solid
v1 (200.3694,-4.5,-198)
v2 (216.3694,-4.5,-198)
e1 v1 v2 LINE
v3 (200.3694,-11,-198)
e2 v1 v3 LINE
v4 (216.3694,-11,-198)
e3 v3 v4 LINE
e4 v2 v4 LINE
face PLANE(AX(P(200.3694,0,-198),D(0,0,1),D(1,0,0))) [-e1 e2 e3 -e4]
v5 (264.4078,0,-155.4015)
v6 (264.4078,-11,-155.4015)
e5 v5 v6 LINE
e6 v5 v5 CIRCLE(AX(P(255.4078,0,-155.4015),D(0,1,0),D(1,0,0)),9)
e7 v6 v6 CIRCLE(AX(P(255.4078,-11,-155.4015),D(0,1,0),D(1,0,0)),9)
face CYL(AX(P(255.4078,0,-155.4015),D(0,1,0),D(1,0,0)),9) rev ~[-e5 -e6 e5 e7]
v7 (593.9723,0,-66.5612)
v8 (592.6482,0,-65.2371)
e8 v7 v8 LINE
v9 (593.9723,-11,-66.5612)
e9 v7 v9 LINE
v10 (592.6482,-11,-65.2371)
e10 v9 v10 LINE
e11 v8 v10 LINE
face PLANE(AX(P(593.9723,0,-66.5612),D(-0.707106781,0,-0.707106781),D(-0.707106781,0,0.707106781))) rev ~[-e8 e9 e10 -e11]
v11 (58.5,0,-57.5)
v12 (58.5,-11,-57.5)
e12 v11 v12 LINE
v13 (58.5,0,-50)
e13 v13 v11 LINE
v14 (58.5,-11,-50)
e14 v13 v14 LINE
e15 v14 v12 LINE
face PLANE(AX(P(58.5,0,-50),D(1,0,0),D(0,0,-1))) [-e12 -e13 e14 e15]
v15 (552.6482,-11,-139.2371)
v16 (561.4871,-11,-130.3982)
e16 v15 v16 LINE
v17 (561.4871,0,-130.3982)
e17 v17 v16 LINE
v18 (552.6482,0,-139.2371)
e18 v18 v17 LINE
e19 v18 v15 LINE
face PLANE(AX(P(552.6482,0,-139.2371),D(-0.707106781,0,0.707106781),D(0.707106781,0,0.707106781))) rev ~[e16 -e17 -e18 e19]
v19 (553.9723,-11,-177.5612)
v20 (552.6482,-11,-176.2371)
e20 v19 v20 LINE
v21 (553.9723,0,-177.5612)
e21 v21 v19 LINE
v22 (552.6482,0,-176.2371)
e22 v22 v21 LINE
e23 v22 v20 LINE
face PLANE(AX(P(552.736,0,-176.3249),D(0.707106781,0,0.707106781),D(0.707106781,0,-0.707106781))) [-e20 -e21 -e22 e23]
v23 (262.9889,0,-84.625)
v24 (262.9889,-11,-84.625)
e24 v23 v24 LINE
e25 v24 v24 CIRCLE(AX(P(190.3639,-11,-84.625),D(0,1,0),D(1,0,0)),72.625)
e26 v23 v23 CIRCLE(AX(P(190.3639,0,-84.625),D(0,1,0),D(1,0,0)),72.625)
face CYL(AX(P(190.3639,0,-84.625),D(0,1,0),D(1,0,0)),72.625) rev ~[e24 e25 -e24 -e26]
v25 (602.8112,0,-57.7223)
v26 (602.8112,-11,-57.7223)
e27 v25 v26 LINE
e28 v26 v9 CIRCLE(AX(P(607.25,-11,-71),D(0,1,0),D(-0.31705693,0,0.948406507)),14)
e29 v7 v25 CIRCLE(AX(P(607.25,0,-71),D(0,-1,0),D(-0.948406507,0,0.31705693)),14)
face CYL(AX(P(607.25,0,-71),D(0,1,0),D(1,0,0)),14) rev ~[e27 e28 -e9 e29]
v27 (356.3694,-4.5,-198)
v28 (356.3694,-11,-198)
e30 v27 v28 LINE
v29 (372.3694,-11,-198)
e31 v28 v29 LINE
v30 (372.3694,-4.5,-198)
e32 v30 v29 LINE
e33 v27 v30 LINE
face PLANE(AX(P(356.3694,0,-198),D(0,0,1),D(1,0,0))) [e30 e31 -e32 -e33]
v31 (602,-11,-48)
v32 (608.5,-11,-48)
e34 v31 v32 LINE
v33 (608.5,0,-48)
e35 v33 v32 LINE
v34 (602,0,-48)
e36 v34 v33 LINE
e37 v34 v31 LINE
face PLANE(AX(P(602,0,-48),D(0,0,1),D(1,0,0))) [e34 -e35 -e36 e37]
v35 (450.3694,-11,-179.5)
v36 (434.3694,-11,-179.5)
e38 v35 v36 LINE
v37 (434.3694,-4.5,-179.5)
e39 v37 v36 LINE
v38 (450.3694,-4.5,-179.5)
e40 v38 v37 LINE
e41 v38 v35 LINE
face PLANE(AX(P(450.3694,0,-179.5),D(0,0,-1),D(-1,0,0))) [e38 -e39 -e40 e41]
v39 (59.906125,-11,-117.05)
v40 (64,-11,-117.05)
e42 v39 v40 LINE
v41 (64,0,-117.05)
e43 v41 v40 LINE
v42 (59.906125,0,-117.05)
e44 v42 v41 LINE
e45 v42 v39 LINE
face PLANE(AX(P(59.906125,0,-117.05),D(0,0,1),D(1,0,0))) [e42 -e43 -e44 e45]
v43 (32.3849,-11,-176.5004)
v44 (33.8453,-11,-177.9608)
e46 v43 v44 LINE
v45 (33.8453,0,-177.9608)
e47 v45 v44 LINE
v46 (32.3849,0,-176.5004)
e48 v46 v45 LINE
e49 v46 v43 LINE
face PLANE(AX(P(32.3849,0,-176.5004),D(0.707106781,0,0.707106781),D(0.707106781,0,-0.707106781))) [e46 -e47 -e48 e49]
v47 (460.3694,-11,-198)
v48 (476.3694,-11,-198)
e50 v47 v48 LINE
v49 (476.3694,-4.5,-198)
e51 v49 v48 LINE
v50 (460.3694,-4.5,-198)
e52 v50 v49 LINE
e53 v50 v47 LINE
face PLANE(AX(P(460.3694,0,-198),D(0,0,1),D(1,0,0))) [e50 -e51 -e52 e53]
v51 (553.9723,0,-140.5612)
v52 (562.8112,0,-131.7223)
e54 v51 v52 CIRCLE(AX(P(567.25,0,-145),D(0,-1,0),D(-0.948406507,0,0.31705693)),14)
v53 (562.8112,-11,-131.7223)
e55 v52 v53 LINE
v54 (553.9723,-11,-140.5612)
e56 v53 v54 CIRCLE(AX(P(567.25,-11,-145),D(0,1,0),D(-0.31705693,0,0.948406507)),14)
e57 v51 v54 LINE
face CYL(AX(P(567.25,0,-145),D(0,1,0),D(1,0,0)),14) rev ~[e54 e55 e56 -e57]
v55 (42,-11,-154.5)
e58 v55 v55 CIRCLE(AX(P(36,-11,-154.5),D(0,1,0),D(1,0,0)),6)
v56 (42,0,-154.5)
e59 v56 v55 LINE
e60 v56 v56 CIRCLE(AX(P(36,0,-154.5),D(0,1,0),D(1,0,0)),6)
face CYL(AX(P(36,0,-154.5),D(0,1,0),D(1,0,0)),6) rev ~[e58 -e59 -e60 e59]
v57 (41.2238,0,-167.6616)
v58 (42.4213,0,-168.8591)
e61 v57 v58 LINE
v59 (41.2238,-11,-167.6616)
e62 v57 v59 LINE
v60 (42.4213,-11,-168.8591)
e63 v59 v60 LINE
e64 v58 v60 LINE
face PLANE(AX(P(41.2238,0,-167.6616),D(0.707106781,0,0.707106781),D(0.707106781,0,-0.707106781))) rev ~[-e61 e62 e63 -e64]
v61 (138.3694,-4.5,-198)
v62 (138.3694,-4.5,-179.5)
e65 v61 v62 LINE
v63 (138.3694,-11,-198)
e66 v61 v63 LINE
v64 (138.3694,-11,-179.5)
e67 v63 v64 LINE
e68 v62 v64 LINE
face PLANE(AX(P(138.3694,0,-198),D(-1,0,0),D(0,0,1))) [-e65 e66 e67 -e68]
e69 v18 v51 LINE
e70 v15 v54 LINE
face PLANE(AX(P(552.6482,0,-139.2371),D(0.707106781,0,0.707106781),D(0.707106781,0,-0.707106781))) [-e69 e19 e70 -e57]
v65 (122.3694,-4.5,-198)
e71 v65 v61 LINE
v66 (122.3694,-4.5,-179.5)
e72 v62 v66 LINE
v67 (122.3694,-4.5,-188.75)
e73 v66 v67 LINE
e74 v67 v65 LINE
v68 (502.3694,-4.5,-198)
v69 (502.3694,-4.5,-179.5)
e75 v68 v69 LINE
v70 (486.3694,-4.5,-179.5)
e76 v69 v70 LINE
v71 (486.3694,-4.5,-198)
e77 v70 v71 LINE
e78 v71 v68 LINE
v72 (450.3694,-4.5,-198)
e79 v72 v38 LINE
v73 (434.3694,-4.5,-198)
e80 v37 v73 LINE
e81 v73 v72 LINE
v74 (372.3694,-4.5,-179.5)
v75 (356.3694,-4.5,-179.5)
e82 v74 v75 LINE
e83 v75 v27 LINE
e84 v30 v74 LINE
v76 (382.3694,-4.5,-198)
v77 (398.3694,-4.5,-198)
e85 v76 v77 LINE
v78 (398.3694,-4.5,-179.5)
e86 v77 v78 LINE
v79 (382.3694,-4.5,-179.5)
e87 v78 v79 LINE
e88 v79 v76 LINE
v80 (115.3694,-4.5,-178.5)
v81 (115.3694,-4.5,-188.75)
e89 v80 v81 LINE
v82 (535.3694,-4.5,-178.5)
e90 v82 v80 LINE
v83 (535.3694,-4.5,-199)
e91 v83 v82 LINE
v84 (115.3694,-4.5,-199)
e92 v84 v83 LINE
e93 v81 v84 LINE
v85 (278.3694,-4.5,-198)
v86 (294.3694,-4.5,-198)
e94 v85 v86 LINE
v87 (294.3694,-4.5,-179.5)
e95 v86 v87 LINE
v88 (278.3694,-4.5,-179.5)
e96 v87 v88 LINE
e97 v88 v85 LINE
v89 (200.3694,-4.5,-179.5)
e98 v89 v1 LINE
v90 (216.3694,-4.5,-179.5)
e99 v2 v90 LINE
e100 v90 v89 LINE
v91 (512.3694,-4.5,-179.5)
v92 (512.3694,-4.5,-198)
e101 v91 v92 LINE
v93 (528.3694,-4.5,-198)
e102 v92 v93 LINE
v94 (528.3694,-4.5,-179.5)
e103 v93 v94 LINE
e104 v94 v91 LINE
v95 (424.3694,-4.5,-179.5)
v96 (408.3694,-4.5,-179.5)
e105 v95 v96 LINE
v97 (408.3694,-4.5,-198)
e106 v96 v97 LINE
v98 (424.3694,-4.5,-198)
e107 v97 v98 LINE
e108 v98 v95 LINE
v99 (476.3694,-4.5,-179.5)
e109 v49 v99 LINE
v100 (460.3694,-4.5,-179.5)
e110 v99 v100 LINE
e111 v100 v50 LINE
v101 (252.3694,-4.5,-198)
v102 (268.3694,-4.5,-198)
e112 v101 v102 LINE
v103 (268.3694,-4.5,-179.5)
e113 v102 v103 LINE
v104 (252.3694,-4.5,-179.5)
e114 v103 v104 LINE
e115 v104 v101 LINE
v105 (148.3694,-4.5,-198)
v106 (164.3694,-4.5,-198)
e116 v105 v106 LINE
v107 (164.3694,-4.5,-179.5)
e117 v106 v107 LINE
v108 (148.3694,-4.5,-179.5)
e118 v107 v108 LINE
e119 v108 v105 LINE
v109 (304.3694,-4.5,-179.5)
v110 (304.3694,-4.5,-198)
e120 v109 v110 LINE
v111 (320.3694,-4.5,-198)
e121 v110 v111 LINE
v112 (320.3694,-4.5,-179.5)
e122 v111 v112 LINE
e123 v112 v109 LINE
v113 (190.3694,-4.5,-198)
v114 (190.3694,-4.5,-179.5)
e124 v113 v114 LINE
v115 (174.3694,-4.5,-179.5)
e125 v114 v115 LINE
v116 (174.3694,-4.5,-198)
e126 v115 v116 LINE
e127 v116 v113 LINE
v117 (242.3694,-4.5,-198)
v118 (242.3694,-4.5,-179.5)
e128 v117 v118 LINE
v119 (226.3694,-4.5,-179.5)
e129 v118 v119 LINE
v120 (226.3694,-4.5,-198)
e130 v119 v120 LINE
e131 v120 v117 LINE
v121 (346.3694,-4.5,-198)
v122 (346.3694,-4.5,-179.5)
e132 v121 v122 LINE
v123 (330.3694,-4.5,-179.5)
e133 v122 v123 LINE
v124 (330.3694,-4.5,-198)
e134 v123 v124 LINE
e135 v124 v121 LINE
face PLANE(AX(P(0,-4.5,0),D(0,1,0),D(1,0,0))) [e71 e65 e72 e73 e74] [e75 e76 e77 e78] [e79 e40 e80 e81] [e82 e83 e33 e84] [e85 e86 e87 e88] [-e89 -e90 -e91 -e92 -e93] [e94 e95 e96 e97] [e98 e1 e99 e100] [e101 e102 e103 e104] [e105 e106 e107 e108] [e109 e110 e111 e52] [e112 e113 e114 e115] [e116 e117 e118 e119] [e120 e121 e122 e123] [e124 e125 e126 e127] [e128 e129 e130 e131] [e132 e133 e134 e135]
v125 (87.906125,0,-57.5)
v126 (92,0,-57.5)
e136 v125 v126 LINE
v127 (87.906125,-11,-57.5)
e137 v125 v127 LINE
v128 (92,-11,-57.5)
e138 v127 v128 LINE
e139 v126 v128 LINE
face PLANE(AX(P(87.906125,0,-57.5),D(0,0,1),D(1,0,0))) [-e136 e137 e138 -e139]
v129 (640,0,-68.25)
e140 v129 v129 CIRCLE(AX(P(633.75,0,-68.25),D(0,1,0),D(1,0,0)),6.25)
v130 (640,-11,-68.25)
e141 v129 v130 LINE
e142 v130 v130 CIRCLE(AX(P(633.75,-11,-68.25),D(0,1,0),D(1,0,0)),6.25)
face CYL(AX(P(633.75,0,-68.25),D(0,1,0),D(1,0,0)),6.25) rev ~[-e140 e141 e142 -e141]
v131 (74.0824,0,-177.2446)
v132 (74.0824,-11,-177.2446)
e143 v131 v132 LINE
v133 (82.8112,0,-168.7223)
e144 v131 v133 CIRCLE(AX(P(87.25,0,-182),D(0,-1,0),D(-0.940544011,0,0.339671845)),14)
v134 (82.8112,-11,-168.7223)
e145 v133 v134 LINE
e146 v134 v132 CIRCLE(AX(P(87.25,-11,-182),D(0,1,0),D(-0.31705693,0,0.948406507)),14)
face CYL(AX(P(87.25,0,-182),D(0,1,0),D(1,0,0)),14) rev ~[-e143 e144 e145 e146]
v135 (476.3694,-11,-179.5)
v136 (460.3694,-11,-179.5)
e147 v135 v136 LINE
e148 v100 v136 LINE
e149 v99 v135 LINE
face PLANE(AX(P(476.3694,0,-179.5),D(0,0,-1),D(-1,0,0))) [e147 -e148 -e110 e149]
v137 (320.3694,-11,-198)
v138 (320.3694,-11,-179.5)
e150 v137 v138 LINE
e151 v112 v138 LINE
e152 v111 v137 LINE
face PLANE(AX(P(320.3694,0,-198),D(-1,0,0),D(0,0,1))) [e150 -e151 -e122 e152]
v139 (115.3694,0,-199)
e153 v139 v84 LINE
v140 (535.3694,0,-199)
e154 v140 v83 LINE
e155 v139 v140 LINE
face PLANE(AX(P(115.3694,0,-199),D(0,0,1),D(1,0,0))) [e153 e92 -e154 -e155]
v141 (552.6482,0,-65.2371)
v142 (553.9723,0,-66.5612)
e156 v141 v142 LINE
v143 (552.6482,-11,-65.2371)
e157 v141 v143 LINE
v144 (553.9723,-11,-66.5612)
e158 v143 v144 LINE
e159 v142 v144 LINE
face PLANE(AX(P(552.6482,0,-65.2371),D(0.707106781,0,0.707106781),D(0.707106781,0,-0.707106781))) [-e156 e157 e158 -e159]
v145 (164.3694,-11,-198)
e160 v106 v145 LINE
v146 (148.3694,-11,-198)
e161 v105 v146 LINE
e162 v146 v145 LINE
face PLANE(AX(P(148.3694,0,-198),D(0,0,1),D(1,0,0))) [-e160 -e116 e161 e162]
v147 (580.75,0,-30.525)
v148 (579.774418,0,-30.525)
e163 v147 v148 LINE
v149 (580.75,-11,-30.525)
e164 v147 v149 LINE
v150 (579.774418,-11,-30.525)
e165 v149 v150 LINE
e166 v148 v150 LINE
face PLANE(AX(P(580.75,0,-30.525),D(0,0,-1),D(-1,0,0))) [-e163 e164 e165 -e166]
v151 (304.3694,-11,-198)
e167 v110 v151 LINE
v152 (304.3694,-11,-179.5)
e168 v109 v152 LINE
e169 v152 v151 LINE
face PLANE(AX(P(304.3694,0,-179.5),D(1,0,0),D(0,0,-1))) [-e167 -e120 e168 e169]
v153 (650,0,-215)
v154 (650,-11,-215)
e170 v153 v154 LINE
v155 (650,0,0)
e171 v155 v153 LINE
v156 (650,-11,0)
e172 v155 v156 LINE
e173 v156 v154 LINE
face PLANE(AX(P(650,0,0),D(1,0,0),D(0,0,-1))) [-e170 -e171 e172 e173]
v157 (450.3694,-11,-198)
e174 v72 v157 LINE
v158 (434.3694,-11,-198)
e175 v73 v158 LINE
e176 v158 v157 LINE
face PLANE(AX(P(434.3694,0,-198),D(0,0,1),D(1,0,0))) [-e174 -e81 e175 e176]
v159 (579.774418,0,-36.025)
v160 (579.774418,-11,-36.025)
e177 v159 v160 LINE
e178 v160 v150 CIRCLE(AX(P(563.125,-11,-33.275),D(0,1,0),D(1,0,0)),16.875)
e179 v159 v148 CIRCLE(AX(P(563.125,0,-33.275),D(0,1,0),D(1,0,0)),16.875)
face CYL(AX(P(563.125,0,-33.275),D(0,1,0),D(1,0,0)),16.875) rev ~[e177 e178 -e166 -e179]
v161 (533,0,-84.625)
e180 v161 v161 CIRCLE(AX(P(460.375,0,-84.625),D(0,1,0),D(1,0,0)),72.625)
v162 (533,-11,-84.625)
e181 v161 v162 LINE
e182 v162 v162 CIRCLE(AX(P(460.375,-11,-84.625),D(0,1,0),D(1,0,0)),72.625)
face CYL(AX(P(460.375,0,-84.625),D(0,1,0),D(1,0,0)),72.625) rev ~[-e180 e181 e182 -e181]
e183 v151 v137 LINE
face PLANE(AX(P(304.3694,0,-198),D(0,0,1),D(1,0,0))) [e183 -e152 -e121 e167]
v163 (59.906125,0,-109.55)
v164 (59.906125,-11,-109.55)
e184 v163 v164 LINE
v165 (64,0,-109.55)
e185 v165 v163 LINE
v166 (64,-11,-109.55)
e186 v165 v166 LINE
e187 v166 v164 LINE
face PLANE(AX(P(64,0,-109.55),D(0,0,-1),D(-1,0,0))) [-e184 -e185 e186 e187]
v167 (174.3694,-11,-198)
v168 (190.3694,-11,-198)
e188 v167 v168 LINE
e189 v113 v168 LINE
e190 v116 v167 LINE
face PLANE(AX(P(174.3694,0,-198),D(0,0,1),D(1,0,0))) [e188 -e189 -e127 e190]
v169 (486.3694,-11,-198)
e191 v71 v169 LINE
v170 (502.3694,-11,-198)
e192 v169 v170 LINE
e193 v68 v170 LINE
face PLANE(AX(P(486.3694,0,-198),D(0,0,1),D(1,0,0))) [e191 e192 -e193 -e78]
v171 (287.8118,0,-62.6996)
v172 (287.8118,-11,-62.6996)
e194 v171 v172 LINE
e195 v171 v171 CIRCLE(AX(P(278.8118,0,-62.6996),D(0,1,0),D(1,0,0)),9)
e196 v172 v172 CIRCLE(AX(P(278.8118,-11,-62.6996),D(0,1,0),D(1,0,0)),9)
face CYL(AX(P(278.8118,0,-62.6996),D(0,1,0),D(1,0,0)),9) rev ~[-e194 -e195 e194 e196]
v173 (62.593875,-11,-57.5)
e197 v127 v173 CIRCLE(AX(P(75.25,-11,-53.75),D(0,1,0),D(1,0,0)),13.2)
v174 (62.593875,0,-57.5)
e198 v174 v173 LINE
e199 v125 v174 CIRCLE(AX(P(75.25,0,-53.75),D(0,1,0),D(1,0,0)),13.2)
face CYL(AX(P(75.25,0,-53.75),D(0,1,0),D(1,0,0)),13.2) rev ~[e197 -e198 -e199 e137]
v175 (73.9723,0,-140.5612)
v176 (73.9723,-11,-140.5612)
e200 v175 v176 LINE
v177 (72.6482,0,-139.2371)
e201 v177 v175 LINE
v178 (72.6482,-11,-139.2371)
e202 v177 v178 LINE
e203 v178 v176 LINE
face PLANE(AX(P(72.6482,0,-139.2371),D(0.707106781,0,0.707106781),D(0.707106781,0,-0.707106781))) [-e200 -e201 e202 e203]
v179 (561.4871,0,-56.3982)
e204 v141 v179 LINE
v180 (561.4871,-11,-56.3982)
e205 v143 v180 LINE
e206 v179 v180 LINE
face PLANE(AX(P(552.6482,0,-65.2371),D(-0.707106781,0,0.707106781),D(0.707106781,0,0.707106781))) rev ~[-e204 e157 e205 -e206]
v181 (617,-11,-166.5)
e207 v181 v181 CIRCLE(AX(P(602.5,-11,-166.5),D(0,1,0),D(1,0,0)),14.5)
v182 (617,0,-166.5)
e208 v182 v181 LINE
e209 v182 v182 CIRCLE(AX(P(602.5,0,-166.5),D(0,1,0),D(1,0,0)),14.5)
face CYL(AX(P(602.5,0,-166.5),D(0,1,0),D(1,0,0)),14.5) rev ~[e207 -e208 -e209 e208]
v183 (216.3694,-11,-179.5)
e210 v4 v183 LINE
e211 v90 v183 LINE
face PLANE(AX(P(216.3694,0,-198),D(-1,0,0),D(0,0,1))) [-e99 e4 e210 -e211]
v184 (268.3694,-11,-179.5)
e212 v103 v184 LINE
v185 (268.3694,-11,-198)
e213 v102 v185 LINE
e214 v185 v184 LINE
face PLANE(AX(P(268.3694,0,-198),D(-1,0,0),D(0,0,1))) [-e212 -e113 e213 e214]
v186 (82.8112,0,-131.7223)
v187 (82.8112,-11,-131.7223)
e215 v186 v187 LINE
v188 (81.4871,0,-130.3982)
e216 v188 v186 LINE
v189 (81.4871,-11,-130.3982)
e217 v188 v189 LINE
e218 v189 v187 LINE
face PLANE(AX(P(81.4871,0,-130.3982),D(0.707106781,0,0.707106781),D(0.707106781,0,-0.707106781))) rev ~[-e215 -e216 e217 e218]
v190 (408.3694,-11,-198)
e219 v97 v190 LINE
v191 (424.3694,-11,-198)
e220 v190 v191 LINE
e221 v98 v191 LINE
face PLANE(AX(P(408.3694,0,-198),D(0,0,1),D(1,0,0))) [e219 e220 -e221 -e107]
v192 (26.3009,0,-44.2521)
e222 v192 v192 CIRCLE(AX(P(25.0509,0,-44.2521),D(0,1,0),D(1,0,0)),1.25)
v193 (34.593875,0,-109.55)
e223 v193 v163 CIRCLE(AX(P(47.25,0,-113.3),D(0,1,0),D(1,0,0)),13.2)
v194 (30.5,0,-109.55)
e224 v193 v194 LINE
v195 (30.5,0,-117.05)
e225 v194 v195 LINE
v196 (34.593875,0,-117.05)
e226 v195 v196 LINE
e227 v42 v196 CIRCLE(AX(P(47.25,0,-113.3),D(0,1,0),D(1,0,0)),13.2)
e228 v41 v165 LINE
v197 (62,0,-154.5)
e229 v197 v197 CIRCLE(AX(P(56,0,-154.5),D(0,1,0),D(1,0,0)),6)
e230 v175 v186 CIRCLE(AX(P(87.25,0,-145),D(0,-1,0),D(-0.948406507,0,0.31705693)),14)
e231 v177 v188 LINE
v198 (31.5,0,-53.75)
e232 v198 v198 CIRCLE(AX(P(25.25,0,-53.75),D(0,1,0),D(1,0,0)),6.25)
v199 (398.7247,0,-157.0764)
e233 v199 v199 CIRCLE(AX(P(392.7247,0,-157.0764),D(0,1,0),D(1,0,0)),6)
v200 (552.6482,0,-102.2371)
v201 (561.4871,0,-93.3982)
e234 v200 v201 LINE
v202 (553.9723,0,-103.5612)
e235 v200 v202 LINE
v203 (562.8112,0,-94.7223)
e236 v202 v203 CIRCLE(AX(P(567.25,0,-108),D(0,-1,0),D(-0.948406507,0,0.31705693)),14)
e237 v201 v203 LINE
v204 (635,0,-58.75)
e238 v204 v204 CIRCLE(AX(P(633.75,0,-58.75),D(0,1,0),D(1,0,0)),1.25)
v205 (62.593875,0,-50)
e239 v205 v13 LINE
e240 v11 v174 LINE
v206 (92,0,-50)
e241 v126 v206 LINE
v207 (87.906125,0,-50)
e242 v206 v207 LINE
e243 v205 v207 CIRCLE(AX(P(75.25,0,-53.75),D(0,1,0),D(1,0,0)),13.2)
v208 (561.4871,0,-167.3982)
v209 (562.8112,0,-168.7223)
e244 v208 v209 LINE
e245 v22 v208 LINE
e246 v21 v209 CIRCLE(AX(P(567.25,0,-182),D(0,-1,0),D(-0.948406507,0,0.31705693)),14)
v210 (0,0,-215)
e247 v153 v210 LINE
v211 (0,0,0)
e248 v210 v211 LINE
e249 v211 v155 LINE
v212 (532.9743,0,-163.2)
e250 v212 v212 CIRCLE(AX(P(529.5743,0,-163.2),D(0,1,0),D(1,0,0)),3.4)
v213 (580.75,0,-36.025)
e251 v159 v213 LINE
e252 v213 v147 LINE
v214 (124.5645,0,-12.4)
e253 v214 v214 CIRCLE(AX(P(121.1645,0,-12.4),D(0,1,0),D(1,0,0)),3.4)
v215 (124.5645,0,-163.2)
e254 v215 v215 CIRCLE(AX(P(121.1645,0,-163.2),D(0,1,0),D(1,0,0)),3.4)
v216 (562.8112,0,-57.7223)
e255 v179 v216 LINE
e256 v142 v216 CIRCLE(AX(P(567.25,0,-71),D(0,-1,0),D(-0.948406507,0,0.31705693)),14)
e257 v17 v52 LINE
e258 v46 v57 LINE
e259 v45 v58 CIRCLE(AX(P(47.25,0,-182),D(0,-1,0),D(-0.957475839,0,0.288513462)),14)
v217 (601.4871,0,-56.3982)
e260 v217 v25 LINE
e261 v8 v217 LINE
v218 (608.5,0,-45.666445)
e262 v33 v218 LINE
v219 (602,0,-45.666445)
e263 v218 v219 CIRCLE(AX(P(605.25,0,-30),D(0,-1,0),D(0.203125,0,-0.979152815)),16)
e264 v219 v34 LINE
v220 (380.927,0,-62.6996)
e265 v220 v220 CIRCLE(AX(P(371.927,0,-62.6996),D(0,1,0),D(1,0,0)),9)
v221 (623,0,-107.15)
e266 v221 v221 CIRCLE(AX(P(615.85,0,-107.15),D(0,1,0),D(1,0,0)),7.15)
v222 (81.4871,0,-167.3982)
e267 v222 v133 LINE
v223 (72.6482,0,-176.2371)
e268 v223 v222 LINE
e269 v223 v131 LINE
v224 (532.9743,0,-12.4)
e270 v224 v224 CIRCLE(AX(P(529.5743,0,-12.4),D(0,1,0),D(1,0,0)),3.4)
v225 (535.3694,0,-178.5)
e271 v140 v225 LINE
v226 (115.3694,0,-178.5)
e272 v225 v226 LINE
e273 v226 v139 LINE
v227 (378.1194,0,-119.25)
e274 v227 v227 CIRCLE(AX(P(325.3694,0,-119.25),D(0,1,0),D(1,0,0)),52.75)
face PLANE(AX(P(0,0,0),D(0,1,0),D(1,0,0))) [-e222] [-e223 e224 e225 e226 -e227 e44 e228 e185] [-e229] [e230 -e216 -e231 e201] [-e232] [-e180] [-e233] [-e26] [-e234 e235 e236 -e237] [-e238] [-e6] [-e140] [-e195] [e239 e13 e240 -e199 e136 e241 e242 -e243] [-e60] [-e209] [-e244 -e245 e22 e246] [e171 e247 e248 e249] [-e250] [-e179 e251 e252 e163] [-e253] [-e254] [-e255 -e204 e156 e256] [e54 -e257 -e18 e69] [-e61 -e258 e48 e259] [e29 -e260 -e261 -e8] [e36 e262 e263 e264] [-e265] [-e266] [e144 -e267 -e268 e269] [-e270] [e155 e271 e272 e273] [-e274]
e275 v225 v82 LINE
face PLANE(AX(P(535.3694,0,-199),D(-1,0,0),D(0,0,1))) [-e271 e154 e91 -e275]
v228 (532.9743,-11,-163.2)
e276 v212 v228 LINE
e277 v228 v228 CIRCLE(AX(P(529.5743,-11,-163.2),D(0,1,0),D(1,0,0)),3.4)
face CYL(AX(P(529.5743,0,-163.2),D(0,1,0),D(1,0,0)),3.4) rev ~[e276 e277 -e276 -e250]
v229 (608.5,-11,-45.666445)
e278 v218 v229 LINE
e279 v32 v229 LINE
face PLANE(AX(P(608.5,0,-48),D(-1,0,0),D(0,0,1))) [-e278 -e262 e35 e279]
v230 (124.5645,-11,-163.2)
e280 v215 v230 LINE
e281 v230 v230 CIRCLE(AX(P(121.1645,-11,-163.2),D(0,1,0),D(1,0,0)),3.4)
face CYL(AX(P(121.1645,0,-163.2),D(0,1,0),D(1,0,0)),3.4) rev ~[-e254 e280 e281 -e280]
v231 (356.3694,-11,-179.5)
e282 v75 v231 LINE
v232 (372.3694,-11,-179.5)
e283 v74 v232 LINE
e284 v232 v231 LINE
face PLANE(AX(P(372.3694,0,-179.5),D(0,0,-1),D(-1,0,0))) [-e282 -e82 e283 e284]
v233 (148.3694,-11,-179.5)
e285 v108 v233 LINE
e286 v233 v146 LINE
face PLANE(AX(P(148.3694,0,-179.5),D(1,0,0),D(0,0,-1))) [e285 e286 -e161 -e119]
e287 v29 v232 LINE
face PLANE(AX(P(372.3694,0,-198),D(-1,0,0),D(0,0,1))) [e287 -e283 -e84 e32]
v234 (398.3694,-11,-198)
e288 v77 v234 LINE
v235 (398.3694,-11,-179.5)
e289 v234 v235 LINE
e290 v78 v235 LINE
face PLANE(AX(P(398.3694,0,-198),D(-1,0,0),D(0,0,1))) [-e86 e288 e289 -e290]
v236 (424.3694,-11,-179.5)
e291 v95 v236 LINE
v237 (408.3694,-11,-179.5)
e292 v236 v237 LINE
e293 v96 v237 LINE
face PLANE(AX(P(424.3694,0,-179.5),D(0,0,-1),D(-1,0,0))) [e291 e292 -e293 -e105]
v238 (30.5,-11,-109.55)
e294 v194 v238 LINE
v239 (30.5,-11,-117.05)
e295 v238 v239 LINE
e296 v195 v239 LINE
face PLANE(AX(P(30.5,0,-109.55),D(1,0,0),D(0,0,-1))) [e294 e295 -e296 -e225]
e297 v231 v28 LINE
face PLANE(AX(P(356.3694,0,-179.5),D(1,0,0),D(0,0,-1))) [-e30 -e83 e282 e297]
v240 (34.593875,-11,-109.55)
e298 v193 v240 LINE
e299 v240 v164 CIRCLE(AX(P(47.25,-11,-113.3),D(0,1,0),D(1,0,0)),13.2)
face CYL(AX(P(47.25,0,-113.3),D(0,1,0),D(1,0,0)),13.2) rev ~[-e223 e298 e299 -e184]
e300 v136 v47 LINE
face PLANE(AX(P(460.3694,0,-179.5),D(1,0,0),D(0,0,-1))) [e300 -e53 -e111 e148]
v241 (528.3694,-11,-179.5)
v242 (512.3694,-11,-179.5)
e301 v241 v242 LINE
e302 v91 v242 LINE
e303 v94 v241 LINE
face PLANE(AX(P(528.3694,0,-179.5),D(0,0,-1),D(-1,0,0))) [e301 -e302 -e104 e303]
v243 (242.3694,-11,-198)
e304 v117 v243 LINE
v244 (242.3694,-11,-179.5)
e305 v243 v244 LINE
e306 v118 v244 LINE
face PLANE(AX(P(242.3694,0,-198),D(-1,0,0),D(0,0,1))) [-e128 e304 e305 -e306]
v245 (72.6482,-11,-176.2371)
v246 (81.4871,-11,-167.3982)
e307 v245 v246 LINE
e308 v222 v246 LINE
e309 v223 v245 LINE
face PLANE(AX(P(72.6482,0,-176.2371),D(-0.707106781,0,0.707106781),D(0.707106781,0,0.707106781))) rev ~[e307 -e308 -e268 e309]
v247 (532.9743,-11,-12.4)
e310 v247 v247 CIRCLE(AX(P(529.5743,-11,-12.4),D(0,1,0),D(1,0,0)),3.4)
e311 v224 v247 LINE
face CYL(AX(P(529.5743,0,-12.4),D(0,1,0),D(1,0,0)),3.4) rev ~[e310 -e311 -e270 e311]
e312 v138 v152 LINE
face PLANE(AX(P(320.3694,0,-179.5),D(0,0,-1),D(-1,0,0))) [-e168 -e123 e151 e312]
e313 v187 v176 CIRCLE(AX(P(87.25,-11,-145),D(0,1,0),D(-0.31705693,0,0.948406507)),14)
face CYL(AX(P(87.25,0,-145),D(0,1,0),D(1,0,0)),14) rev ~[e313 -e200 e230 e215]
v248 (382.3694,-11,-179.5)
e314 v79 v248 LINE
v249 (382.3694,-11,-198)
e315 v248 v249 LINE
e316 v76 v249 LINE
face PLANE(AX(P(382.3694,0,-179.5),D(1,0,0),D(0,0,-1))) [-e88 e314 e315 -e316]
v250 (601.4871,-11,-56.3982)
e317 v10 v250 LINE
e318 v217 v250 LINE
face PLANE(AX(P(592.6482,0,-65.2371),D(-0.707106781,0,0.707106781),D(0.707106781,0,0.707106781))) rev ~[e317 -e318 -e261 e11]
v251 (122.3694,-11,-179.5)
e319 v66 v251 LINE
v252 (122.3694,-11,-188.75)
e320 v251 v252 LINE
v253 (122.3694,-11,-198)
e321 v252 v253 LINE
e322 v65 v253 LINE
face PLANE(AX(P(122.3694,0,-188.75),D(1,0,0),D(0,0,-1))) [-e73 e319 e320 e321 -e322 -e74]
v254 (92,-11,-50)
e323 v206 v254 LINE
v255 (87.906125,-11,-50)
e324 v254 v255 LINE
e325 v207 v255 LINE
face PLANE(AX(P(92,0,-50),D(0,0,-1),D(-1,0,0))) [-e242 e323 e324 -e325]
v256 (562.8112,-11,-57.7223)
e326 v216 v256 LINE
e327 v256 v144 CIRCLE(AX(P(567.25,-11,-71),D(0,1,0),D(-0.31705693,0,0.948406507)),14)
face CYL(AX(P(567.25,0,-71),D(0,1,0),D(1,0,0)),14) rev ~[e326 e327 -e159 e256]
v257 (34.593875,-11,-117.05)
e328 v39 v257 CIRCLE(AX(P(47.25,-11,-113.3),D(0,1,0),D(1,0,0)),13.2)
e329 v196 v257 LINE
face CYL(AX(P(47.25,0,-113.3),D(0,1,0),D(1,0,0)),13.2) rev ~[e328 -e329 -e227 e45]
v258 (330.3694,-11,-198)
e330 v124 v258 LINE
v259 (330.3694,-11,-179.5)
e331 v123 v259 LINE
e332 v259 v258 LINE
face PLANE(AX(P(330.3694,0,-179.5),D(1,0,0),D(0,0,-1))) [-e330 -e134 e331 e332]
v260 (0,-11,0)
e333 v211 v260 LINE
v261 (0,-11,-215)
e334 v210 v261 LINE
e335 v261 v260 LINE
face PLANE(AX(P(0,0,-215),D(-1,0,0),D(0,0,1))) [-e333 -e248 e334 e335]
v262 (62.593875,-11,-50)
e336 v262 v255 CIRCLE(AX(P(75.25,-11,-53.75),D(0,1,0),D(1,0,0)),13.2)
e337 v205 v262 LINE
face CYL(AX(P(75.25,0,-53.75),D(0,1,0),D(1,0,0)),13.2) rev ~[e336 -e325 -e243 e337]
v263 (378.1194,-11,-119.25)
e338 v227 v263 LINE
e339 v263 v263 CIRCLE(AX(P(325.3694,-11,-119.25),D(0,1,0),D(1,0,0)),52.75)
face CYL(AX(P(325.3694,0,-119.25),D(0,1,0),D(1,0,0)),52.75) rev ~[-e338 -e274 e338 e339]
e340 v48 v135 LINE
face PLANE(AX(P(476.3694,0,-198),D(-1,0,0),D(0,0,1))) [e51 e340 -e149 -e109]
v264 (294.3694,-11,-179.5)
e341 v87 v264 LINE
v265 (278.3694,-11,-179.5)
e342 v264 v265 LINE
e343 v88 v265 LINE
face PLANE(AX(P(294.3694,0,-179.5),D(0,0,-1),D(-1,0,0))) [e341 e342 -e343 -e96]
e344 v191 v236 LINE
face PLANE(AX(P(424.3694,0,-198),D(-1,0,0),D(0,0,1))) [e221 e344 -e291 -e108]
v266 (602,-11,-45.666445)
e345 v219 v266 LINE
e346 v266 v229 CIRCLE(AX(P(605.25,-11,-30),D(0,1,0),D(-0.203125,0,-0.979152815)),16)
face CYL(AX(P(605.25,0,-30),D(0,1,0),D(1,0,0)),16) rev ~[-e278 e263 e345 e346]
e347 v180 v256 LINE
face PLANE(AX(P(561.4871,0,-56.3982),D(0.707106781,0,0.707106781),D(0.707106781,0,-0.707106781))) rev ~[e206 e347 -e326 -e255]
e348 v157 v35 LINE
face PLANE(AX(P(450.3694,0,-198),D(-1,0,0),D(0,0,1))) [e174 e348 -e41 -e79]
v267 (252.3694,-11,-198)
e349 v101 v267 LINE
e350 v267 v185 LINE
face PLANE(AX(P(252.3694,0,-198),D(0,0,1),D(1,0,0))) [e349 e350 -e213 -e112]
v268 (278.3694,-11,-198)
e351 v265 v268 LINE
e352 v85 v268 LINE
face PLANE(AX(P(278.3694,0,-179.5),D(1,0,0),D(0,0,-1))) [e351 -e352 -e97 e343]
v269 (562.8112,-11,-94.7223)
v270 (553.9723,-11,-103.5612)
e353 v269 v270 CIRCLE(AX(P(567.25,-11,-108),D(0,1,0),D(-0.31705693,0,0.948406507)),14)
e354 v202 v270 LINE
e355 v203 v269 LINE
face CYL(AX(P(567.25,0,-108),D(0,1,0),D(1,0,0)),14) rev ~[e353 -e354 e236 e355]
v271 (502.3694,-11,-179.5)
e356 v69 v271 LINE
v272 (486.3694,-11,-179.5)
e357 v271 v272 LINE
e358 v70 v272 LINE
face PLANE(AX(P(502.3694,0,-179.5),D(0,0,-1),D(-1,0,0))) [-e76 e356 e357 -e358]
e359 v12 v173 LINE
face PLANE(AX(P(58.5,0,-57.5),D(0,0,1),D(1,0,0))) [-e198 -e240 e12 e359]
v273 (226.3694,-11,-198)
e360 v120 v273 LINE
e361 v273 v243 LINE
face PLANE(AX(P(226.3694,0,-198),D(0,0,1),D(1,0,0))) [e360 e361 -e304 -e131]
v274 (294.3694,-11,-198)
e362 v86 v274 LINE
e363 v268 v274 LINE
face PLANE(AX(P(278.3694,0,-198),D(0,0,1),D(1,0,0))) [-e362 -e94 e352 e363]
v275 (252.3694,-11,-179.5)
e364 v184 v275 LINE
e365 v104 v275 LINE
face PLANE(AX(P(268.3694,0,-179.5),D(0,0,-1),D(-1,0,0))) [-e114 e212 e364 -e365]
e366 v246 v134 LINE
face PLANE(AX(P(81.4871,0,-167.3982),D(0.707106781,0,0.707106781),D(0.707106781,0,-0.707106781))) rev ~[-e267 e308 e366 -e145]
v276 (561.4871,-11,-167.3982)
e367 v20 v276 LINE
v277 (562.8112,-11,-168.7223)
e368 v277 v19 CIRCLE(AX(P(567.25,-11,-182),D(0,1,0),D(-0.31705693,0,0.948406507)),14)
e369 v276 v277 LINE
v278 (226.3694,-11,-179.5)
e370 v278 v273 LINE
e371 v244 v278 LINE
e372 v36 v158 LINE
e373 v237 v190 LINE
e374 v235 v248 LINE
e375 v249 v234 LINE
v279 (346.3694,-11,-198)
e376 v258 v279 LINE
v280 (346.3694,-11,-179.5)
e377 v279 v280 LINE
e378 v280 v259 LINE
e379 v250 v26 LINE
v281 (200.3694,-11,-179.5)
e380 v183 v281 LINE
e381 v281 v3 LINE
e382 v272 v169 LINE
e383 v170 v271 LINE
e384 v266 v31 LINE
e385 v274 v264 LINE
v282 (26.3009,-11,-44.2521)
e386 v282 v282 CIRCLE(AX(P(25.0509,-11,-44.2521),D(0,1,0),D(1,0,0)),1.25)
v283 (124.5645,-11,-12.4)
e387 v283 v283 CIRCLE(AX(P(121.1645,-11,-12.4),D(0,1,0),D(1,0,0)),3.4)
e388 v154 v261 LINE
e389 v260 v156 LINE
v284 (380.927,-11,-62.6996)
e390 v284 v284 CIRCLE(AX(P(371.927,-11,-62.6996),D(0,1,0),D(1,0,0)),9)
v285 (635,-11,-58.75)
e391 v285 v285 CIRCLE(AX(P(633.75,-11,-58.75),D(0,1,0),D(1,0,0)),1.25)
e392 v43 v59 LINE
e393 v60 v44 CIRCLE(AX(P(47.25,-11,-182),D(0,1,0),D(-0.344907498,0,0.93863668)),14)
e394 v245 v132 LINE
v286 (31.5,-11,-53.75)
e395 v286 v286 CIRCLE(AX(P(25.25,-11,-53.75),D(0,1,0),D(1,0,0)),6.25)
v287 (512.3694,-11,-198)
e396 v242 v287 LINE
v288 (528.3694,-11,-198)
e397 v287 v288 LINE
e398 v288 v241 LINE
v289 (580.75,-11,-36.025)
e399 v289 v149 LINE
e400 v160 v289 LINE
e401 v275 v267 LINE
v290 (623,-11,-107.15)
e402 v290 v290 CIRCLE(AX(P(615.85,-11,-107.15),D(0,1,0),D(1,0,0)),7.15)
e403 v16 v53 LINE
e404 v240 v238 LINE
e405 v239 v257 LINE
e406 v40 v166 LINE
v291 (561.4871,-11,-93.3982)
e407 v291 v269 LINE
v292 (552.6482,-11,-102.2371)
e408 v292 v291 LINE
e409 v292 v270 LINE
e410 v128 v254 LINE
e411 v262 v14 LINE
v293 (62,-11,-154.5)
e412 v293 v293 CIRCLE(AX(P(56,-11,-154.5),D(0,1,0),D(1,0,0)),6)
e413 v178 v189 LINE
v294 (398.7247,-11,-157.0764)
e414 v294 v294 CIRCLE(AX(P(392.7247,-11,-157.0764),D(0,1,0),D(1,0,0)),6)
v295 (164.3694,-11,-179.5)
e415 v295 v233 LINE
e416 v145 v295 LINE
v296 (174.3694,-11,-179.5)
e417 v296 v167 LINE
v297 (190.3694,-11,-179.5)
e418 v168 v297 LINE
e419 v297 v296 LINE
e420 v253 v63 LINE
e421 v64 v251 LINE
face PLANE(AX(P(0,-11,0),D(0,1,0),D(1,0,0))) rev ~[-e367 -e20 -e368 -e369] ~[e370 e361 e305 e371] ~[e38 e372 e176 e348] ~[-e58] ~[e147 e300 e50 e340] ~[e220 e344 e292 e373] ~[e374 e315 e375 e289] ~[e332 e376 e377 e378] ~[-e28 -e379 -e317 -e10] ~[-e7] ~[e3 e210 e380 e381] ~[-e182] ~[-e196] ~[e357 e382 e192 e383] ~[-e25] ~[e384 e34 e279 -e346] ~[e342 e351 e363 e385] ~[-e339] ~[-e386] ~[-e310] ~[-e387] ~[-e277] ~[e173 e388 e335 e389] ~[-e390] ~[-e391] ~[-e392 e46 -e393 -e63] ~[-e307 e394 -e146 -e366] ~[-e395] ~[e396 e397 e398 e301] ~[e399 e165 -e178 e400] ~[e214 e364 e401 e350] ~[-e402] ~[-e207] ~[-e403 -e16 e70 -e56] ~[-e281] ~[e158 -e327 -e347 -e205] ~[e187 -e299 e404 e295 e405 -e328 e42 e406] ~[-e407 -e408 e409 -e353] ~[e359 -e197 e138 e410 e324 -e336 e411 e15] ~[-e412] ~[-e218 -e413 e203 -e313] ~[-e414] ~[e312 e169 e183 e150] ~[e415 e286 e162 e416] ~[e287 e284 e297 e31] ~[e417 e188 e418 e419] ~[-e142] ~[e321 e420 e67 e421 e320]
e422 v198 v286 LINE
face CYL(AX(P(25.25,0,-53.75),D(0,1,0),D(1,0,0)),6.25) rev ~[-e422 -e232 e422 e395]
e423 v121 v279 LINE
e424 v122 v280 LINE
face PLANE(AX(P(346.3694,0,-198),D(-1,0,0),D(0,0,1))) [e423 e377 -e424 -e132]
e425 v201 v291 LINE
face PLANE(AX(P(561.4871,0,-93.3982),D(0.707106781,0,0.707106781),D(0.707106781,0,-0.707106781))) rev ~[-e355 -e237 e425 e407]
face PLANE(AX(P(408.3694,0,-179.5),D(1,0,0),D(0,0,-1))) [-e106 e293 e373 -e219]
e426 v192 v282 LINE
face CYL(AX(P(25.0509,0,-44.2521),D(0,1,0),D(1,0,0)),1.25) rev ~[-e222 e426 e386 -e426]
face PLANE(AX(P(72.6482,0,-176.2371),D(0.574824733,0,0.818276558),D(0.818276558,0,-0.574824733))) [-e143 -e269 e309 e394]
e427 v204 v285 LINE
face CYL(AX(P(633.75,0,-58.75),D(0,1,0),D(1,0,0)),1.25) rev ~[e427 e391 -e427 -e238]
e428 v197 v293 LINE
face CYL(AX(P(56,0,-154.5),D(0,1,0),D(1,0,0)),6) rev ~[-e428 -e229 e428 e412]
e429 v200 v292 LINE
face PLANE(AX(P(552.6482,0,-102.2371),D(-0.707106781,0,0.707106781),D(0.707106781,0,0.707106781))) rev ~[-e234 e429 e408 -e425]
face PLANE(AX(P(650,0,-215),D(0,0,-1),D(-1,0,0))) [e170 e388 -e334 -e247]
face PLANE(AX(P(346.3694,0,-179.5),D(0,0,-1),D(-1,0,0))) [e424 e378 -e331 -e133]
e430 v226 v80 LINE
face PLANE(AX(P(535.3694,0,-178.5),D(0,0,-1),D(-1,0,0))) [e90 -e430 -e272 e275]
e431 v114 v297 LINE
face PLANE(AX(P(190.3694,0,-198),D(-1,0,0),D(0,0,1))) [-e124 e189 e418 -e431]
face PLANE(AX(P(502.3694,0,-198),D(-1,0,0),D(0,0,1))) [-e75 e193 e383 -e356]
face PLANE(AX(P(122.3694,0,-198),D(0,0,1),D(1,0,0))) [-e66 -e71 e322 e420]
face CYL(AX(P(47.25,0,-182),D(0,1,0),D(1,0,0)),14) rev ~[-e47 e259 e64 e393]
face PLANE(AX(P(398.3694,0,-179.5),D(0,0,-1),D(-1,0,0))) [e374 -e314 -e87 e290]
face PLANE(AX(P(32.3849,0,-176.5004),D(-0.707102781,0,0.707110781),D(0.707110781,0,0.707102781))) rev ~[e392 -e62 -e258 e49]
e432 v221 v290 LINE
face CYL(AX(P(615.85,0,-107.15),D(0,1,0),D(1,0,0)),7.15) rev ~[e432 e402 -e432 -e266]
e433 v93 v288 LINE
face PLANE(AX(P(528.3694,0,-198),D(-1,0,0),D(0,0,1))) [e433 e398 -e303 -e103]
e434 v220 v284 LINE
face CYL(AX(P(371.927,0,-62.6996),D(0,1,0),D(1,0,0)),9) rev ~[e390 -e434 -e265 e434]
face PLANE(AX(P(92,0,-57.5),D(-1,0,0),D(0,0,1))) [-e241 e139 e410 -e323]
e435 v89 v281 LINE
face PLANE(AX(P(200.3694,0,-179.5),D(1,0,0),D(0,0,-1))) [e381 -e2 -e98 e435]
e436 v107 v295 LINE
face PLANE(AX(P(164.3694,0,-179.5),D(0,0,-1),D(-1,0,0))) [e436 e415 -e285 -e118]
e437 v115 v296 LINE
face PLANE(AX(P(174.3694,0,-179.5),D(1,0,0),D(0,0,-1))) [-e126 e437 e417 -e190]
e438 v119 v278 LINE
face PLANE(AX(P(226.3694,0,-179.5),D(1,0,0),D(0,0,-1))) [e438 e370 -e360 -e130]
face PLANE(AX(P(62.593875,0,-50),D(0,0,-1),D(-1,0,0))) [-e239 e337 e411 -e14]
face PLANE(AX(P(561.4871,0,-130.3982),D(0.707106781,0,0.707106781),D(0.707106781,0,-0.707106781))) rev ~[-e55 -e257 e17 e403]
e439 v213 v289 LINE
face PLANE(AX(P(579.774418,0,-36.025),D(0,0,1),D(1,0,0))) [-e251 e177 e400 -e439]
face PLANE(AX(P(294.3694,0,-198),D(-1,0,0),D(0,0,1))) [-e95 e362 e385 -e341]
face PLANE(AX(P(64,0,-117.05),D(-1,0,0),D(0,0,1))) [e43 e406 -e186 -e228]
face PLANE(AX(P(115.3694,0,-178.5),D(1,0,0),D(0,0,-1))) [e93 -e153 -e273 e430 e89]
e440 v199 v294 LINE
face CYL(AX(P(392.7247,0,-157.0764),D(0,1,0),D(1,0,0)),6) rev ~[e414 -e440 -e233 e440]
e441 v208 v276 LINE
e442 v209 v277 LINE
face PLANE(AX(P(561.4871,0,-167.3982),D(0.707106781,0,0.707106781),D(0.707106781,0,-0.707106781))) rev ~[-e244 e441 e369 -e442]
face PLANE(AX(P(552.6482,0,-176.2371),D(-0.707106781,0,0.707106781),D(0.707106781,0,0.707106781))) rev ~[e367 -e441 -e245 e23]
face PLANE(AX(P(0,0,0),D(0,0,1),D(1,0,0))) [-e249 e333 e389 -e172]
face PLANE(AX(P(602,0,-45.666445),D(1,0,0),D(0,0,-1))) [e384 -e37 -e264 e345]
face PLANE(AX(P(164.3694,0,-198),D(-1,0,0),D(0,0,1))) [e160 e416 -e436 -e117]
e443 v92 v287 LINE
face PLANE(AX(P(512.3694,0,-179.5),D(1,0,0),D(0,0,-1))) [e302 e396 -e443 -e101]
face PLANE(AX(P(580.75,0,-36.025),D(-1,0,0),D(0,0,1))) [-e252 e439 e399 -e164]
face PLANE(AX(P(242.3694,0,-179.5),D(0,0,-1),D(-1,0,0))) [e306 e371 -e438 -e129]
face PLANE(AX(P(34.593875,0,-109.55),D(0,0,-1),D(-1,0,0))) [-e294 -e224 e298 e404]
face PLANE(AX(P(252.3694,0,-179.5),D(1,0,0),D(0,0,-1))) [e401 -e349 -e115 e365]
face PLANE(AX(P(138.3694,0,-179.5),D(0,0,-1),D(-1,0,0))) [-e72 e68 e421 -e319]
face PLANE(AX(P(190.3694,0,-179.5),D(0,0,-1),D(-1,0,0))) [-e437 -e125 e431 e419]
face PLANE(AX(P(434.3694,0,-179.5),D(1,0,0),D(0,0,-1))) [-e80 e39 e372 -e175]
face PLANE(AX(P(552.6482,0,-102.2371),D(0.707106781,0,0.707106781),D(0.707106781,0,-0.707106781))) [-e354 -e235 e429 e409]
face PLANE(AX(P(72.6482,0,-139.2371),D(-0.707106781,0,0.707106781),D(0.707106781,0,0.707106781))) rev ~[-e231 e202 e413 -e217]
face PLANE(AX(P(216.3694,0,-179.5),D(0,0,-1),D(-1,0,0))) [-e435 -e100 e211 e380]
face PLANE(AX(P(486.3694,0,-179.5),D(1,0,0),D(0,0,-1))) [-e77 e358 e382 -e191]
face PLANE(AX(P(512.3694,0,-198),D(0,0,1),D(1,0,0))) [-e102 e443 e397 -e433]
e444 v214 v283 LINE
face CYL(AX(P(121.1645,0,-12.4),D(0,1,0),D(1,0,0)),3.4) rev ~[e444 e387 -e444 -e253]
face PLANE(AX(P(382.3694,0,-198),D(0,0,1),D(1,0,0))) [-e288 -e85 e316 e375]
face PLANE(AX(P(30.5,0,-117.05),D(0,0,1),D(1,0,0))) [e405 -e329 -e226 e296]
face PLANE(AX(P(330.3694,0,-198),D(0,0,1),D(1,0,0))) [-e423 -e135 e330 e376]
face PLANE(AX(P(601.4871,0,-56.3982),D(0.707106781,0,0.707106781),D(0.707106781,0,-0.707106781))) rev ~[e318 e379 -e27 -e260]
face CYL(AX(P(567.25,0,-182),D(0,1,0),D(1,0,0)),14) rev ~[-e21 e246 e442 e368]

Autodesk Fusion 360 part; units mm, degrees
sketch "Sketch1" plane through (0, 0, 0) normal (0, 1, 0) x (1, 0, 0)
  line L0 (0, 0) -> (650, 0)
  line L1 (650, 0) -> (650, 215)
  line L2 (650, 215) -> (0, 215)
  line L3 (0, 215) -> (0, 0)
  circle A0 centre (47.25, 182) radius 14
  circle A1 centre (87.25, 182) radius 14
  circle A2 centre (36, 154.5) radius 6
  circle A3 centre (56, 154.5) radius 6
  circle A4 centre (87.25, 145) radius 14
  circle A5 centre (47.25, 113.3) radius 13.2
  circle A6 centre (75.25, 53.75) radius 13.2
  circle A7 centre (25.25, 53.75) radius 6.25
  circle A8 centre (121.1645, 163.2) radius 3.4
  circle A9 centre (25.0509, 44.2521) radius 1.25
  circle A10 centre (121.1645, 12.4) radius 3.4
  circle A11 centre (190.3639, 84.625) radius 72.625
  circle A12 centre (255.4078, 155.4015) radius 9
  circle A13 centre (325.3694, 119.25) radius 52.75
  circle A14 centre (392.7247, 157.0764) radius 6
  circle A15 centre (460.375, 84.625) radius 72.625
  circle A16 centre (278.8118, 62.6996) radius 9
  circle A17 centre (371.927, 62.6996) radius 9
  circle A18 centre (529.5743, 163.2) radius 3.4
  circle A19 centre (529.5743, 12.4) radius 3.4
  circle A20 centre (567.25, 182) radius 14
  circle A21 centre (567.25, 145) radius 14
  circle A22 centre (567.25, 108) radius 14
  circle A23 centre (567.25, 71) radius 14
  circle A24 centre (563.125, 33.275) radius 16.875
  circle A25 centre (607.25, 71) radius 14
  circle A26 centre (605.25, 30) radius 16
  circle A27 centre (633.75, 68.25) radius 6.25
  circle A28 centre (615.85, 107.15) radius 7.15
  circle A29 centre (602.5, 166.5) radius 14.5
  line L4 (567.25, 71) -> (567.25, 182) construction
  line L5 (567.25, 71) -> (607.25, 71) construction
  line L6 (529.5743, 12.4) -> (529.5743, 163.2) construction
  line L7 (594.9763, 67.5652) -> (603.8152, 58.7263) construction
  line L8 (607.25, 71) -> (597.3539, 61.1039) construction
  line L9 (607.25, 71) -> (621.2468, 71) construction
  line L10 (594.9763, 67.5652) -> (592.6482, 65.2371) construction
  line L11 (592.6482, 65.2371) -> (601.4871, 56.3982)
  line L12 (601.4871, 56.3982) -> (602.8112, 57.7223)
  line L13 (607.25, 71) -> (617.1495, 80.8995) construction
  line L14 (593.9723, 66.5612) -> (592.6482, 65.2371)
  line L15 (603.8152, 58.7263) -> (601.4871, 56.3982) construction
  line L16 (605.1938, 75.6264) -> (595.1802, 65.6128) construction
  line L17 (600.0149, 75.127) -> (608.8537, 66.2882) construction
  line L18 (608.8537, 66.2882) -> (601.6878, 59.1222) construction
  line L19 (592.8489, 67.9611) -> (601.6878, 59.1222)
  line L20 (600.0149, 75.127) -> (592.8489, 67.9611) construction
  line L21 (567.25, 71) -> (557.3505, 61.1005) construction
  line L22 (560.5418, 73.1307) -> (569.3807, 64.2918) construction
  line L23 (569.3807, 64.2918) -> (561.4871, 56.3982) construction
  line L24 (552.6482, 65.2371) -> (561.4871, 56.3982)
  line L25 (560.5418, 73.1307) -> (552.6482, 65.2371) construction
  line L26 (567.25, 108) -> (557.0677, 97.8177) construction
  line L27 (556.1832, 105.7721) -> (565.0221, 96.9332) construction
  line L28 (565.0221, 96.9332) -> (561.4871, 93.3982) construction
  line L29 (552.6482, 102.2371) -> (561.4871, 93.3982)
  line L30 (556.1832, 105.7721) -> (552.6482, 102.2371) construction
  line L31 (567.25, 145) -> (557.3539, 135.1039) construction
  line L32 (555.9409, 142.5297) -> (564.7797, 133.6909) construction
  line L33 (564.7797, 133.6909) -> (561.4871, 130.3982) construction
  line L34 (552.6482, 139.2371) -> (561.4871, 130.3982)
  line L35 (555.9409, 142.5297) -> (552.6482, 139.2371) construction
  line L36 (567.25, 182) -> (557.3505, 172.1005) construction
  line L37 (552.8238, 176.4127) -> (561.6627, 167.5738) construction
  line L38 (561.6627, 167.5738) -> (561.4871, 167.3982) construction
  line L39 (552.6482, 176.2371) -> (561.4871, 167.3982)
  line L40 (552.8238, 176.4127) -> (552.6482, 176.2371) construction
  line L41 (552.6482, 176.2371) -> (552.736, 176.3249)
  line L42 (552.736, 176.3249) -> (553.9723, 177.5612)
  line L43 (561.4871, 167.3982) -> (562.8112, 168.7223)
  line L44 (552.6482, 139.2371) -> (553.9723, 140.5612)
  line L45 (561.4871, 130.3982) -> (562.8112, 131.7223)
  line L46 (552.6482, 65.2371) -> (553.9723, 66.5612)
  line L47 (561.4871, 56.3982) -> (562.8112, 57.7223)
  line L48 (561.4871, 93.3982) -> (562.8112, 94.7223)
  line L49 (552.6482, 102.2371) -> (553.9723, 103.5612)
  line L50 (371.927, 62.6996) -> (278.8118, 62.6996) construction
  line L51 (460.375, 84.625) -> (190.3639, 84.625) construction
  line L52 (121.1645, 12.4) -> (529.5743, 12.4) construction
  line L53 (121.1645, 12.4) -> (121.1645, 163.2) construction
  line L54 (121.1645, 163.2) -> (529.5743, 163.2) construction
  line L55 (605.25, 14) -> (605.25, 30) construction
  line L56 (605.25, 30) -> (605.25, 46) construction
  line L57 (546.25, 33.275) -> (563.125, 33.275) construction
  line L58 (563.125, 33.275) -> (580, 33.275) construction
  line L59 (602, 48) -> (608.5, 48)
  line L60 (608.5, 48) -> (608.5, 43.3355)
  line L61 (608.5, 43.3355) -> (602, 43.3355)
  line L62 (602, 43.3355) -> (602, 48)
  line L63 (578.0171, 36.025) -> (580.75, 36.025)
  line L64 (580.75, 36.025) -> (580.75, 30.525)
  line L65 (580.75, 30.525) -> (578.0171, 30.525)
  line L66 (578.0171, 30.525) -> (578.0171, 36.025)
  circle A30 centre (633.75, 58.75) radius 1.25
  line L67 (633.75, 68.25) -> (633.75, 58.75) construction
  line L68 (87.25, 145) -> (77.3505, 135.1005) construction
  line L69 (87.25, 182) -> (77.3505, 172.1005) construction
  line L70 (47.25, 182) -> (37.3505, 172.1005) construction
  line L71 (87.25, 145) -> (87.25, 182) construction
  line L72 (87.25, 182) -> (47.25, 182) construction
  line L73 (36, 154.5) -> (56, 154.5) construction
  line L74 (567.25, 182) -> (87.25, 182) construction
  line L75 (557.3505, 61.1005) -> (557.0677, 60.8177) construction
  line L76 (557.3539, 135.1039) -> (550.2188, 127.9688) construction
  line L77 (32.3849, 176.5004) -> (41.2238, 167.6616)
  line L78 (32.3849, 176.5004) -> (33.8453, 177.9608)
  line L79 (41.2238, 167.6616) -> (42.4213, 168.8591)
  line L80 (87.25, 182) -> (76.9585, 171.7085) construction
  line L81 (72.6482, 176.2371) -> (74.0824, 177.2446)
  line L82 (81.4871, 167.3982) -> (82.8112, 168.7223)
  line L83 (87.25, 145) -> (77.0677, 134.8177) construction
  line L84 (72.6482, 139.2371) -> (73.9723, 140.5612)
  line L85 (72.6482, 139.2371) -> (81.4871, 130.3982)
  line L86 (81.4871, 130.3982) -> (82.8112, 131.7223)
  line L87 (72.6482, 176.2371) -> (81.4871, 167.3982)
  line L88 (76.9585, 171.7085) -> (77.0677, 171.8177) construction
  line L89 (30.5, 117.05) -> (64, 117.05)
  line L90 (64, 117.05) -> (64, 109.55)
  line L91 (64, 109.55) -> (30.5, 109.55)
  line L92 (30.5, 109.55) -> (30.5, 117.05)
  line L93 (47.25, 117.05) -> (47.25, 113.3) construction
  line L94 (47.25, 113.3) -> (30.5, 113.3) construction
  line L95 (92, 50) -> (58.5, 50)
  line L96 (75.25, 53.75) -> (58.5, 53.75) construction
  line L97 (75.25, 57.5) -> (75.25, 53.75) construction
  line L98 (58.5, 50) -> (58.5, 57.5)
  line L99 (58.5, 57.5) -> (92, 57.5)
  line L100 (92, 57.5) -> (92, 50)
  line L101 (47.25, 182) -> (47.25, 113.3) construction
  line L102 (75.25, 53.75) -> (25.25, 53.75) construction
  line L103 (115.3694, 199) -> (535.3694, 199)
  line L104 (535.3694, 199) -> (535.3694, 178.5)
  line L105 (535.3694, 178.5) -> (115.3694, 178.5)
  line L106 (115.3694, 178.5) -> (115.3694, 199)
  line L107 (325.3694, 119.25) -> (325.3694, 178.5) construction
  line L108 (122.3694, 198) -> (138.3694, 198)
  line L109 (138.3694, 198) -> (138.3694, 179.5)
  line L110 (138.3694, 179.5) -> (122.3694, 179.5)
  line L111 (122.3694, 179.5) -> (122.3694, 198)
  line L112 (115.3694, 188.75) -> (122.3694, 188.75)
  line L113 (148.3694, 179.5) -> (148.3694, 198)
  line L114 (148.3694, 198) -> (164.3694, 198)
  line L115 (164.3694, 198) -> (164.3694, 179.5)
  line L116 (164.3694, 179.5) -> (148.3694, 179.5)
  line L117 (174.3694, 179.5) -> (174.3694, 198)
  line L118 (174.3694, 198) -> (190.3694, 198)
  line L119 (190.3694, 198) -> (190.3694, 179.5)
  line L120 (190.3694, 179.5) -> (174.3694, 179.5)
  line L121 (200.3694, 179.5) -> (200.3694, 198)
  line L122 (200.3694, 198) -> (216.3694, 198)
  line L123 (216.3694, 198) -> (216.3694, 179.5)
  line L124 (216.3694, 179.5) -> (200.3694, 179.5)
  line L125 (226.3694, 179.5) -> (226.3694, 198)
  line L126 (226.3694, 198) -> (242.3694, 198)
  line L127 (242.3694, 198) -> (242.3694, 179.5)
  line L128 (242.3694, 179.5) -> (226.3694, 179.5)
  line L129 (252.3694, 179.5) -> (252.3694, 198)
  line L130 (252.3694, 198) -> (268.3694, 198)
  line L131 (268.3694, 198) -> (268.3694, 179.5)
  line L132 (268.3694, 179.5) -> (252.3694, 179.5)
  line L133 (278.3694, 179.5) -> (278.3694, 198)
  line L134 (278.3694, 198) -> (294.3694, 198)
  line L135 (294.3694, 198) -> (294.3694, 179.5)
  line L136 (294.3694, 179.5) -> (278.3694, 179.5)
  line L137 (304.3694, 179.5) -> (304.3694, 198)
  line L138 (304.3694, 198) -> (320.3694, 198)
  line L139 (320.3694, 198) -> (320.3694, 179.5)
  line L140 (320.3694, 179.5) -> (304.3694, 179.5)
  line L141 (330.3694, 179.5) -> (330.3694, 198)
  line L142 (330.3694, 198) -> (346.3694, 198)
  line L143 (346.3694, 198) -> (346.3694, 179.5)
  line L144 (346.3694, 179.5) -> (330.3694, 179.5)
  line L145 (356.3694, 179.5) -> (356.3694, 198)
  line L146 (356.3694, 198) -> (372.3694, 198)
  line L147 (372.3694, 198) -> (372.3694, 179.5)
  line L148 (372.3694, 179.5) -> (356.3694, 179.5)
  line L149 (382.3694, 179.5) -> (382.3694, 198)
  line L150 (382.3694, 198) -> (398.3694, 198)
  line L151 (398.3694, 198) -> (398.3694, 179.5)
  line L152 (398.3694, 179.5) -> (382.3694, 179.5)
  line L153 (408.3694, 179.5) -> (408.3694, 198)
  line L154 (408.3694, 198) -> (424.3694, 198)
  line L155 (424.3694, 198) -> (424.3694, 179.5)
  line L156 (424.3694, 179.5) -> (408.3694, 179.5)
  line L157 (434.3694, 179.5) -> (434.3694, 198)
  line L158 (434.3694, 198) -> (450.3694, 198)
  line L159 (450.3694, 198) -> (450.3694, 179.5)
  line L160 (450.3694, 179.5) -> (434.3694, 179.5)
  line L161 (460.3694, 179.5) -> (460.3694, 198)
  line L162 (460.3694, 198) -> (476.3694, 198)
  line L163 (476.3694, 198) -> (476.3694, 179.5)
  line L164 (476.3694, 179.5) -> (460.3694, 179.5)
  line L165 (486.3694, 179.5) -> (486.3694, 198)
  line L166 (486.3694, 198) -> (502.3694, 198)
  line L167 (502.3694, 198) -> (502.3694, 179.5)
  line L168 (502.3694, 179.5) -> (486.3694, 179.5)
  line L169 (512.3694, 179.5) -> (512.3694, 198)
  line L170 (512.3694, 198) -> (528.3694, 198)
  line L171 (528.3694, 198) -> (528.3694, 179.5)
  line L172 (528.3694, 179.5) -> (512.3694, 179.5)
  point P0 (599.3958, 63.1458)
  point P1 (605.25, 43.3355)
  point P2 (578.0171, 33.275)
  point P3 (557.0677, 60.8177)
  point P4 (557.0677, 134.8177)
  point P5 (557.0677, 97.8177)
  point P6 (77.3505, 172.1005)
  point P7 (77.0677, 134.8177)
  point P8 (77.0677, 171.8177)
  point P9 (75.25, 57.5)
  point P10 (325.3694, 178.5)
  dimension "d1" = 650
  dimension "d2" = 215
  dimension "d3" = 32
  dimension "d4" = 14
  dimension "d5" = 28.75
  dimension "d6" = 12.5
  dimension "d7" = 10
  dimension "d8" = 62
  dimension "d9" = 28
  dimension "d10" = 28
  dimension "d11" = 28
  dimension "d12" = 28
  dimension "d13" = 28
  dimension "d14" = 33.75
  dimension "d15" = 16.4
  dimension "d16" = 70
  dimension "d17" = 6.8
  dimension "d19" = 9
  dimension "d20" = 28.75
  dimension "d21" = 57
  dimension "d22" = 12
  dimension "d23" = 9
  dimension "d24" = 9
  dimension "d25" = 9
  dimension "d26" = 19
  dimension "d27" = 29
  dimension "d28" = 33
  dimension "d29" = 34
  dimension "d30" = 14.3
  dimension "d31" = 27
  dimension "d32" = 100
  dimension "d33" = 6.8
  dimension "d34" = 144
  dimension "d35" = 145.25
  dimension "d36" = 145.25
  dimension "d37" = 12
  dimension "d38" = 117
  dimension "d39" = 12.5
  dimension "d40" = 135
  dimension "d41" = 28.4
  dimension "d42" = 12.5
  dimension "d43" = 12.5
  dimension "d44" = 12.5
  dimension "d45" = 12.5
  dimension "d46" = 12.5
  dimension "d47" = 66.5
  dimension "d48" = 105.5
  dimension "d49" = 14
  dimension "d50" = 12
  dimension "d51" = 18
  dimension "d52" = 18
  dimension "d53" = 18
  dimension "d54" = 9.5
  dimension "d55" = 11.5
  dimension "d56" = 11.5
  dimension "d57" = 9.5
  dimension "d58" = 14
  dimension "d59" = 6.8
  dimension "d62" = 24
  dimension "d63" = 408.4098
  dimension "d64" = 24
  dimension "d65" = 20.5
  dimension "d66" = 18.5
  dimension "d67" = 17
  dimension "d70" = 14.5
  dimension "d71" = 6.8
  dimension "d74" = 6.5
  dimension "d75" = 34
  dimension "d76" = 5.5
  dimension "d77" = 34.5
  dimension "d78" = 2.5
  dimension "d79" = 2
  dimension "d80" = 28
  dimension "d81" = 28
  dimension "d82" = 28
  dimension "d83" = 12
  dimension "d84" = 12
  dimension "d85" = 2.5
  dimension "d86" = 2
  dimension "d87" = 12.5
  dimension "d88" = 19
  dimension "d89" = 47.5
  dimension "d90" = 12
  dimension "d91" = 9
  dimension "d92" = 33.25
  dimension "d93" = 30
  dimension "d94" = 54.5
  dimension "d95" = 8
  dimension "d96" = 28.4
  dimension "d98" = 28.4
  dimension "d99" = 28.4
  dimension "d100" = 12.5
  dimension "d101" = 28.4
  dimension "d102" = 12.5
  dimension "d103" = 12.5
  dimension "d104" = 28.4
  dimension "d105" = 28.4
  dimension "d106" = 26.4
  dimension "d107" = 26.4
  dimension "d108" = 33.5
  dimension "d110" = 33.5
  dimension "d112" = 7.5
  dimension "d113" = 3.75
  dimension "d114" = 27
  dimension "d115" = 41.5
  dimension "d116" = 20.5
  dimension "d117" = 420
  dimension "d118" = 6.5
  dimension "d119" = 16
  dimension "d120" = 18.5
  dimension "d121" = 7
  dimension "d124" = 26
  dimension "d125" = 0
  dimension "d126" = 7
extrude "Extrude1" add sketch "Sketch1" against normal blind 11 contours L0 L1 L2 L3 | L108 L109 L110 L111 | L103 L104 L105 L106 | L113 L114 L115 L116 | L117 L118 L119 L120 | L121 L122 L123 L124 | L125 L126 L127 L128 | L129 L130 L131 L132 | L133 L134 L135 L136 | L137 L138 L139 L140 | L141 L142 L143 L144 | L145 L146 L147 L148 | L149 L150 L151 L152 | L153 L154 L155 L156 | L157 L158 L159 L160 | L161 L162 L163 L164 | L165 L166 L167 L168 | L169 L170 L171 L172
extrude "Extrude2" cut sketch "Sketch1" against normal blind 4.5 contours L103 L104 L105 L106
extrude "Extrude3" cut sketch "Sketch1" against normal blind 140 contours L108 L109 L110 L111 | L113 L114 L115 L116 | L117 L118 L119 L120 | L121 L122 L123 L124 | L125 L126 L127 L128 | L129 L130 L131 L132 | L133 L134 L135 L136 | L137 L138 L139 L140 | L141 L142 L143 L144 | L145 L146 L147 L148 | L149 L150 L151 L152 | L153 L154 L155 L156 | L157 L158 L159 L160 | L161 L162 L163 L164 | L165 L166 L167 L168 | L169 L170 L171 L172
equation "d33 = d17"
equation "d36 = d35"
equation "d59 = d17"
equation "d71 = d59"
equation "d113 = ( 7.5 / 2 ) * 1 mm"
